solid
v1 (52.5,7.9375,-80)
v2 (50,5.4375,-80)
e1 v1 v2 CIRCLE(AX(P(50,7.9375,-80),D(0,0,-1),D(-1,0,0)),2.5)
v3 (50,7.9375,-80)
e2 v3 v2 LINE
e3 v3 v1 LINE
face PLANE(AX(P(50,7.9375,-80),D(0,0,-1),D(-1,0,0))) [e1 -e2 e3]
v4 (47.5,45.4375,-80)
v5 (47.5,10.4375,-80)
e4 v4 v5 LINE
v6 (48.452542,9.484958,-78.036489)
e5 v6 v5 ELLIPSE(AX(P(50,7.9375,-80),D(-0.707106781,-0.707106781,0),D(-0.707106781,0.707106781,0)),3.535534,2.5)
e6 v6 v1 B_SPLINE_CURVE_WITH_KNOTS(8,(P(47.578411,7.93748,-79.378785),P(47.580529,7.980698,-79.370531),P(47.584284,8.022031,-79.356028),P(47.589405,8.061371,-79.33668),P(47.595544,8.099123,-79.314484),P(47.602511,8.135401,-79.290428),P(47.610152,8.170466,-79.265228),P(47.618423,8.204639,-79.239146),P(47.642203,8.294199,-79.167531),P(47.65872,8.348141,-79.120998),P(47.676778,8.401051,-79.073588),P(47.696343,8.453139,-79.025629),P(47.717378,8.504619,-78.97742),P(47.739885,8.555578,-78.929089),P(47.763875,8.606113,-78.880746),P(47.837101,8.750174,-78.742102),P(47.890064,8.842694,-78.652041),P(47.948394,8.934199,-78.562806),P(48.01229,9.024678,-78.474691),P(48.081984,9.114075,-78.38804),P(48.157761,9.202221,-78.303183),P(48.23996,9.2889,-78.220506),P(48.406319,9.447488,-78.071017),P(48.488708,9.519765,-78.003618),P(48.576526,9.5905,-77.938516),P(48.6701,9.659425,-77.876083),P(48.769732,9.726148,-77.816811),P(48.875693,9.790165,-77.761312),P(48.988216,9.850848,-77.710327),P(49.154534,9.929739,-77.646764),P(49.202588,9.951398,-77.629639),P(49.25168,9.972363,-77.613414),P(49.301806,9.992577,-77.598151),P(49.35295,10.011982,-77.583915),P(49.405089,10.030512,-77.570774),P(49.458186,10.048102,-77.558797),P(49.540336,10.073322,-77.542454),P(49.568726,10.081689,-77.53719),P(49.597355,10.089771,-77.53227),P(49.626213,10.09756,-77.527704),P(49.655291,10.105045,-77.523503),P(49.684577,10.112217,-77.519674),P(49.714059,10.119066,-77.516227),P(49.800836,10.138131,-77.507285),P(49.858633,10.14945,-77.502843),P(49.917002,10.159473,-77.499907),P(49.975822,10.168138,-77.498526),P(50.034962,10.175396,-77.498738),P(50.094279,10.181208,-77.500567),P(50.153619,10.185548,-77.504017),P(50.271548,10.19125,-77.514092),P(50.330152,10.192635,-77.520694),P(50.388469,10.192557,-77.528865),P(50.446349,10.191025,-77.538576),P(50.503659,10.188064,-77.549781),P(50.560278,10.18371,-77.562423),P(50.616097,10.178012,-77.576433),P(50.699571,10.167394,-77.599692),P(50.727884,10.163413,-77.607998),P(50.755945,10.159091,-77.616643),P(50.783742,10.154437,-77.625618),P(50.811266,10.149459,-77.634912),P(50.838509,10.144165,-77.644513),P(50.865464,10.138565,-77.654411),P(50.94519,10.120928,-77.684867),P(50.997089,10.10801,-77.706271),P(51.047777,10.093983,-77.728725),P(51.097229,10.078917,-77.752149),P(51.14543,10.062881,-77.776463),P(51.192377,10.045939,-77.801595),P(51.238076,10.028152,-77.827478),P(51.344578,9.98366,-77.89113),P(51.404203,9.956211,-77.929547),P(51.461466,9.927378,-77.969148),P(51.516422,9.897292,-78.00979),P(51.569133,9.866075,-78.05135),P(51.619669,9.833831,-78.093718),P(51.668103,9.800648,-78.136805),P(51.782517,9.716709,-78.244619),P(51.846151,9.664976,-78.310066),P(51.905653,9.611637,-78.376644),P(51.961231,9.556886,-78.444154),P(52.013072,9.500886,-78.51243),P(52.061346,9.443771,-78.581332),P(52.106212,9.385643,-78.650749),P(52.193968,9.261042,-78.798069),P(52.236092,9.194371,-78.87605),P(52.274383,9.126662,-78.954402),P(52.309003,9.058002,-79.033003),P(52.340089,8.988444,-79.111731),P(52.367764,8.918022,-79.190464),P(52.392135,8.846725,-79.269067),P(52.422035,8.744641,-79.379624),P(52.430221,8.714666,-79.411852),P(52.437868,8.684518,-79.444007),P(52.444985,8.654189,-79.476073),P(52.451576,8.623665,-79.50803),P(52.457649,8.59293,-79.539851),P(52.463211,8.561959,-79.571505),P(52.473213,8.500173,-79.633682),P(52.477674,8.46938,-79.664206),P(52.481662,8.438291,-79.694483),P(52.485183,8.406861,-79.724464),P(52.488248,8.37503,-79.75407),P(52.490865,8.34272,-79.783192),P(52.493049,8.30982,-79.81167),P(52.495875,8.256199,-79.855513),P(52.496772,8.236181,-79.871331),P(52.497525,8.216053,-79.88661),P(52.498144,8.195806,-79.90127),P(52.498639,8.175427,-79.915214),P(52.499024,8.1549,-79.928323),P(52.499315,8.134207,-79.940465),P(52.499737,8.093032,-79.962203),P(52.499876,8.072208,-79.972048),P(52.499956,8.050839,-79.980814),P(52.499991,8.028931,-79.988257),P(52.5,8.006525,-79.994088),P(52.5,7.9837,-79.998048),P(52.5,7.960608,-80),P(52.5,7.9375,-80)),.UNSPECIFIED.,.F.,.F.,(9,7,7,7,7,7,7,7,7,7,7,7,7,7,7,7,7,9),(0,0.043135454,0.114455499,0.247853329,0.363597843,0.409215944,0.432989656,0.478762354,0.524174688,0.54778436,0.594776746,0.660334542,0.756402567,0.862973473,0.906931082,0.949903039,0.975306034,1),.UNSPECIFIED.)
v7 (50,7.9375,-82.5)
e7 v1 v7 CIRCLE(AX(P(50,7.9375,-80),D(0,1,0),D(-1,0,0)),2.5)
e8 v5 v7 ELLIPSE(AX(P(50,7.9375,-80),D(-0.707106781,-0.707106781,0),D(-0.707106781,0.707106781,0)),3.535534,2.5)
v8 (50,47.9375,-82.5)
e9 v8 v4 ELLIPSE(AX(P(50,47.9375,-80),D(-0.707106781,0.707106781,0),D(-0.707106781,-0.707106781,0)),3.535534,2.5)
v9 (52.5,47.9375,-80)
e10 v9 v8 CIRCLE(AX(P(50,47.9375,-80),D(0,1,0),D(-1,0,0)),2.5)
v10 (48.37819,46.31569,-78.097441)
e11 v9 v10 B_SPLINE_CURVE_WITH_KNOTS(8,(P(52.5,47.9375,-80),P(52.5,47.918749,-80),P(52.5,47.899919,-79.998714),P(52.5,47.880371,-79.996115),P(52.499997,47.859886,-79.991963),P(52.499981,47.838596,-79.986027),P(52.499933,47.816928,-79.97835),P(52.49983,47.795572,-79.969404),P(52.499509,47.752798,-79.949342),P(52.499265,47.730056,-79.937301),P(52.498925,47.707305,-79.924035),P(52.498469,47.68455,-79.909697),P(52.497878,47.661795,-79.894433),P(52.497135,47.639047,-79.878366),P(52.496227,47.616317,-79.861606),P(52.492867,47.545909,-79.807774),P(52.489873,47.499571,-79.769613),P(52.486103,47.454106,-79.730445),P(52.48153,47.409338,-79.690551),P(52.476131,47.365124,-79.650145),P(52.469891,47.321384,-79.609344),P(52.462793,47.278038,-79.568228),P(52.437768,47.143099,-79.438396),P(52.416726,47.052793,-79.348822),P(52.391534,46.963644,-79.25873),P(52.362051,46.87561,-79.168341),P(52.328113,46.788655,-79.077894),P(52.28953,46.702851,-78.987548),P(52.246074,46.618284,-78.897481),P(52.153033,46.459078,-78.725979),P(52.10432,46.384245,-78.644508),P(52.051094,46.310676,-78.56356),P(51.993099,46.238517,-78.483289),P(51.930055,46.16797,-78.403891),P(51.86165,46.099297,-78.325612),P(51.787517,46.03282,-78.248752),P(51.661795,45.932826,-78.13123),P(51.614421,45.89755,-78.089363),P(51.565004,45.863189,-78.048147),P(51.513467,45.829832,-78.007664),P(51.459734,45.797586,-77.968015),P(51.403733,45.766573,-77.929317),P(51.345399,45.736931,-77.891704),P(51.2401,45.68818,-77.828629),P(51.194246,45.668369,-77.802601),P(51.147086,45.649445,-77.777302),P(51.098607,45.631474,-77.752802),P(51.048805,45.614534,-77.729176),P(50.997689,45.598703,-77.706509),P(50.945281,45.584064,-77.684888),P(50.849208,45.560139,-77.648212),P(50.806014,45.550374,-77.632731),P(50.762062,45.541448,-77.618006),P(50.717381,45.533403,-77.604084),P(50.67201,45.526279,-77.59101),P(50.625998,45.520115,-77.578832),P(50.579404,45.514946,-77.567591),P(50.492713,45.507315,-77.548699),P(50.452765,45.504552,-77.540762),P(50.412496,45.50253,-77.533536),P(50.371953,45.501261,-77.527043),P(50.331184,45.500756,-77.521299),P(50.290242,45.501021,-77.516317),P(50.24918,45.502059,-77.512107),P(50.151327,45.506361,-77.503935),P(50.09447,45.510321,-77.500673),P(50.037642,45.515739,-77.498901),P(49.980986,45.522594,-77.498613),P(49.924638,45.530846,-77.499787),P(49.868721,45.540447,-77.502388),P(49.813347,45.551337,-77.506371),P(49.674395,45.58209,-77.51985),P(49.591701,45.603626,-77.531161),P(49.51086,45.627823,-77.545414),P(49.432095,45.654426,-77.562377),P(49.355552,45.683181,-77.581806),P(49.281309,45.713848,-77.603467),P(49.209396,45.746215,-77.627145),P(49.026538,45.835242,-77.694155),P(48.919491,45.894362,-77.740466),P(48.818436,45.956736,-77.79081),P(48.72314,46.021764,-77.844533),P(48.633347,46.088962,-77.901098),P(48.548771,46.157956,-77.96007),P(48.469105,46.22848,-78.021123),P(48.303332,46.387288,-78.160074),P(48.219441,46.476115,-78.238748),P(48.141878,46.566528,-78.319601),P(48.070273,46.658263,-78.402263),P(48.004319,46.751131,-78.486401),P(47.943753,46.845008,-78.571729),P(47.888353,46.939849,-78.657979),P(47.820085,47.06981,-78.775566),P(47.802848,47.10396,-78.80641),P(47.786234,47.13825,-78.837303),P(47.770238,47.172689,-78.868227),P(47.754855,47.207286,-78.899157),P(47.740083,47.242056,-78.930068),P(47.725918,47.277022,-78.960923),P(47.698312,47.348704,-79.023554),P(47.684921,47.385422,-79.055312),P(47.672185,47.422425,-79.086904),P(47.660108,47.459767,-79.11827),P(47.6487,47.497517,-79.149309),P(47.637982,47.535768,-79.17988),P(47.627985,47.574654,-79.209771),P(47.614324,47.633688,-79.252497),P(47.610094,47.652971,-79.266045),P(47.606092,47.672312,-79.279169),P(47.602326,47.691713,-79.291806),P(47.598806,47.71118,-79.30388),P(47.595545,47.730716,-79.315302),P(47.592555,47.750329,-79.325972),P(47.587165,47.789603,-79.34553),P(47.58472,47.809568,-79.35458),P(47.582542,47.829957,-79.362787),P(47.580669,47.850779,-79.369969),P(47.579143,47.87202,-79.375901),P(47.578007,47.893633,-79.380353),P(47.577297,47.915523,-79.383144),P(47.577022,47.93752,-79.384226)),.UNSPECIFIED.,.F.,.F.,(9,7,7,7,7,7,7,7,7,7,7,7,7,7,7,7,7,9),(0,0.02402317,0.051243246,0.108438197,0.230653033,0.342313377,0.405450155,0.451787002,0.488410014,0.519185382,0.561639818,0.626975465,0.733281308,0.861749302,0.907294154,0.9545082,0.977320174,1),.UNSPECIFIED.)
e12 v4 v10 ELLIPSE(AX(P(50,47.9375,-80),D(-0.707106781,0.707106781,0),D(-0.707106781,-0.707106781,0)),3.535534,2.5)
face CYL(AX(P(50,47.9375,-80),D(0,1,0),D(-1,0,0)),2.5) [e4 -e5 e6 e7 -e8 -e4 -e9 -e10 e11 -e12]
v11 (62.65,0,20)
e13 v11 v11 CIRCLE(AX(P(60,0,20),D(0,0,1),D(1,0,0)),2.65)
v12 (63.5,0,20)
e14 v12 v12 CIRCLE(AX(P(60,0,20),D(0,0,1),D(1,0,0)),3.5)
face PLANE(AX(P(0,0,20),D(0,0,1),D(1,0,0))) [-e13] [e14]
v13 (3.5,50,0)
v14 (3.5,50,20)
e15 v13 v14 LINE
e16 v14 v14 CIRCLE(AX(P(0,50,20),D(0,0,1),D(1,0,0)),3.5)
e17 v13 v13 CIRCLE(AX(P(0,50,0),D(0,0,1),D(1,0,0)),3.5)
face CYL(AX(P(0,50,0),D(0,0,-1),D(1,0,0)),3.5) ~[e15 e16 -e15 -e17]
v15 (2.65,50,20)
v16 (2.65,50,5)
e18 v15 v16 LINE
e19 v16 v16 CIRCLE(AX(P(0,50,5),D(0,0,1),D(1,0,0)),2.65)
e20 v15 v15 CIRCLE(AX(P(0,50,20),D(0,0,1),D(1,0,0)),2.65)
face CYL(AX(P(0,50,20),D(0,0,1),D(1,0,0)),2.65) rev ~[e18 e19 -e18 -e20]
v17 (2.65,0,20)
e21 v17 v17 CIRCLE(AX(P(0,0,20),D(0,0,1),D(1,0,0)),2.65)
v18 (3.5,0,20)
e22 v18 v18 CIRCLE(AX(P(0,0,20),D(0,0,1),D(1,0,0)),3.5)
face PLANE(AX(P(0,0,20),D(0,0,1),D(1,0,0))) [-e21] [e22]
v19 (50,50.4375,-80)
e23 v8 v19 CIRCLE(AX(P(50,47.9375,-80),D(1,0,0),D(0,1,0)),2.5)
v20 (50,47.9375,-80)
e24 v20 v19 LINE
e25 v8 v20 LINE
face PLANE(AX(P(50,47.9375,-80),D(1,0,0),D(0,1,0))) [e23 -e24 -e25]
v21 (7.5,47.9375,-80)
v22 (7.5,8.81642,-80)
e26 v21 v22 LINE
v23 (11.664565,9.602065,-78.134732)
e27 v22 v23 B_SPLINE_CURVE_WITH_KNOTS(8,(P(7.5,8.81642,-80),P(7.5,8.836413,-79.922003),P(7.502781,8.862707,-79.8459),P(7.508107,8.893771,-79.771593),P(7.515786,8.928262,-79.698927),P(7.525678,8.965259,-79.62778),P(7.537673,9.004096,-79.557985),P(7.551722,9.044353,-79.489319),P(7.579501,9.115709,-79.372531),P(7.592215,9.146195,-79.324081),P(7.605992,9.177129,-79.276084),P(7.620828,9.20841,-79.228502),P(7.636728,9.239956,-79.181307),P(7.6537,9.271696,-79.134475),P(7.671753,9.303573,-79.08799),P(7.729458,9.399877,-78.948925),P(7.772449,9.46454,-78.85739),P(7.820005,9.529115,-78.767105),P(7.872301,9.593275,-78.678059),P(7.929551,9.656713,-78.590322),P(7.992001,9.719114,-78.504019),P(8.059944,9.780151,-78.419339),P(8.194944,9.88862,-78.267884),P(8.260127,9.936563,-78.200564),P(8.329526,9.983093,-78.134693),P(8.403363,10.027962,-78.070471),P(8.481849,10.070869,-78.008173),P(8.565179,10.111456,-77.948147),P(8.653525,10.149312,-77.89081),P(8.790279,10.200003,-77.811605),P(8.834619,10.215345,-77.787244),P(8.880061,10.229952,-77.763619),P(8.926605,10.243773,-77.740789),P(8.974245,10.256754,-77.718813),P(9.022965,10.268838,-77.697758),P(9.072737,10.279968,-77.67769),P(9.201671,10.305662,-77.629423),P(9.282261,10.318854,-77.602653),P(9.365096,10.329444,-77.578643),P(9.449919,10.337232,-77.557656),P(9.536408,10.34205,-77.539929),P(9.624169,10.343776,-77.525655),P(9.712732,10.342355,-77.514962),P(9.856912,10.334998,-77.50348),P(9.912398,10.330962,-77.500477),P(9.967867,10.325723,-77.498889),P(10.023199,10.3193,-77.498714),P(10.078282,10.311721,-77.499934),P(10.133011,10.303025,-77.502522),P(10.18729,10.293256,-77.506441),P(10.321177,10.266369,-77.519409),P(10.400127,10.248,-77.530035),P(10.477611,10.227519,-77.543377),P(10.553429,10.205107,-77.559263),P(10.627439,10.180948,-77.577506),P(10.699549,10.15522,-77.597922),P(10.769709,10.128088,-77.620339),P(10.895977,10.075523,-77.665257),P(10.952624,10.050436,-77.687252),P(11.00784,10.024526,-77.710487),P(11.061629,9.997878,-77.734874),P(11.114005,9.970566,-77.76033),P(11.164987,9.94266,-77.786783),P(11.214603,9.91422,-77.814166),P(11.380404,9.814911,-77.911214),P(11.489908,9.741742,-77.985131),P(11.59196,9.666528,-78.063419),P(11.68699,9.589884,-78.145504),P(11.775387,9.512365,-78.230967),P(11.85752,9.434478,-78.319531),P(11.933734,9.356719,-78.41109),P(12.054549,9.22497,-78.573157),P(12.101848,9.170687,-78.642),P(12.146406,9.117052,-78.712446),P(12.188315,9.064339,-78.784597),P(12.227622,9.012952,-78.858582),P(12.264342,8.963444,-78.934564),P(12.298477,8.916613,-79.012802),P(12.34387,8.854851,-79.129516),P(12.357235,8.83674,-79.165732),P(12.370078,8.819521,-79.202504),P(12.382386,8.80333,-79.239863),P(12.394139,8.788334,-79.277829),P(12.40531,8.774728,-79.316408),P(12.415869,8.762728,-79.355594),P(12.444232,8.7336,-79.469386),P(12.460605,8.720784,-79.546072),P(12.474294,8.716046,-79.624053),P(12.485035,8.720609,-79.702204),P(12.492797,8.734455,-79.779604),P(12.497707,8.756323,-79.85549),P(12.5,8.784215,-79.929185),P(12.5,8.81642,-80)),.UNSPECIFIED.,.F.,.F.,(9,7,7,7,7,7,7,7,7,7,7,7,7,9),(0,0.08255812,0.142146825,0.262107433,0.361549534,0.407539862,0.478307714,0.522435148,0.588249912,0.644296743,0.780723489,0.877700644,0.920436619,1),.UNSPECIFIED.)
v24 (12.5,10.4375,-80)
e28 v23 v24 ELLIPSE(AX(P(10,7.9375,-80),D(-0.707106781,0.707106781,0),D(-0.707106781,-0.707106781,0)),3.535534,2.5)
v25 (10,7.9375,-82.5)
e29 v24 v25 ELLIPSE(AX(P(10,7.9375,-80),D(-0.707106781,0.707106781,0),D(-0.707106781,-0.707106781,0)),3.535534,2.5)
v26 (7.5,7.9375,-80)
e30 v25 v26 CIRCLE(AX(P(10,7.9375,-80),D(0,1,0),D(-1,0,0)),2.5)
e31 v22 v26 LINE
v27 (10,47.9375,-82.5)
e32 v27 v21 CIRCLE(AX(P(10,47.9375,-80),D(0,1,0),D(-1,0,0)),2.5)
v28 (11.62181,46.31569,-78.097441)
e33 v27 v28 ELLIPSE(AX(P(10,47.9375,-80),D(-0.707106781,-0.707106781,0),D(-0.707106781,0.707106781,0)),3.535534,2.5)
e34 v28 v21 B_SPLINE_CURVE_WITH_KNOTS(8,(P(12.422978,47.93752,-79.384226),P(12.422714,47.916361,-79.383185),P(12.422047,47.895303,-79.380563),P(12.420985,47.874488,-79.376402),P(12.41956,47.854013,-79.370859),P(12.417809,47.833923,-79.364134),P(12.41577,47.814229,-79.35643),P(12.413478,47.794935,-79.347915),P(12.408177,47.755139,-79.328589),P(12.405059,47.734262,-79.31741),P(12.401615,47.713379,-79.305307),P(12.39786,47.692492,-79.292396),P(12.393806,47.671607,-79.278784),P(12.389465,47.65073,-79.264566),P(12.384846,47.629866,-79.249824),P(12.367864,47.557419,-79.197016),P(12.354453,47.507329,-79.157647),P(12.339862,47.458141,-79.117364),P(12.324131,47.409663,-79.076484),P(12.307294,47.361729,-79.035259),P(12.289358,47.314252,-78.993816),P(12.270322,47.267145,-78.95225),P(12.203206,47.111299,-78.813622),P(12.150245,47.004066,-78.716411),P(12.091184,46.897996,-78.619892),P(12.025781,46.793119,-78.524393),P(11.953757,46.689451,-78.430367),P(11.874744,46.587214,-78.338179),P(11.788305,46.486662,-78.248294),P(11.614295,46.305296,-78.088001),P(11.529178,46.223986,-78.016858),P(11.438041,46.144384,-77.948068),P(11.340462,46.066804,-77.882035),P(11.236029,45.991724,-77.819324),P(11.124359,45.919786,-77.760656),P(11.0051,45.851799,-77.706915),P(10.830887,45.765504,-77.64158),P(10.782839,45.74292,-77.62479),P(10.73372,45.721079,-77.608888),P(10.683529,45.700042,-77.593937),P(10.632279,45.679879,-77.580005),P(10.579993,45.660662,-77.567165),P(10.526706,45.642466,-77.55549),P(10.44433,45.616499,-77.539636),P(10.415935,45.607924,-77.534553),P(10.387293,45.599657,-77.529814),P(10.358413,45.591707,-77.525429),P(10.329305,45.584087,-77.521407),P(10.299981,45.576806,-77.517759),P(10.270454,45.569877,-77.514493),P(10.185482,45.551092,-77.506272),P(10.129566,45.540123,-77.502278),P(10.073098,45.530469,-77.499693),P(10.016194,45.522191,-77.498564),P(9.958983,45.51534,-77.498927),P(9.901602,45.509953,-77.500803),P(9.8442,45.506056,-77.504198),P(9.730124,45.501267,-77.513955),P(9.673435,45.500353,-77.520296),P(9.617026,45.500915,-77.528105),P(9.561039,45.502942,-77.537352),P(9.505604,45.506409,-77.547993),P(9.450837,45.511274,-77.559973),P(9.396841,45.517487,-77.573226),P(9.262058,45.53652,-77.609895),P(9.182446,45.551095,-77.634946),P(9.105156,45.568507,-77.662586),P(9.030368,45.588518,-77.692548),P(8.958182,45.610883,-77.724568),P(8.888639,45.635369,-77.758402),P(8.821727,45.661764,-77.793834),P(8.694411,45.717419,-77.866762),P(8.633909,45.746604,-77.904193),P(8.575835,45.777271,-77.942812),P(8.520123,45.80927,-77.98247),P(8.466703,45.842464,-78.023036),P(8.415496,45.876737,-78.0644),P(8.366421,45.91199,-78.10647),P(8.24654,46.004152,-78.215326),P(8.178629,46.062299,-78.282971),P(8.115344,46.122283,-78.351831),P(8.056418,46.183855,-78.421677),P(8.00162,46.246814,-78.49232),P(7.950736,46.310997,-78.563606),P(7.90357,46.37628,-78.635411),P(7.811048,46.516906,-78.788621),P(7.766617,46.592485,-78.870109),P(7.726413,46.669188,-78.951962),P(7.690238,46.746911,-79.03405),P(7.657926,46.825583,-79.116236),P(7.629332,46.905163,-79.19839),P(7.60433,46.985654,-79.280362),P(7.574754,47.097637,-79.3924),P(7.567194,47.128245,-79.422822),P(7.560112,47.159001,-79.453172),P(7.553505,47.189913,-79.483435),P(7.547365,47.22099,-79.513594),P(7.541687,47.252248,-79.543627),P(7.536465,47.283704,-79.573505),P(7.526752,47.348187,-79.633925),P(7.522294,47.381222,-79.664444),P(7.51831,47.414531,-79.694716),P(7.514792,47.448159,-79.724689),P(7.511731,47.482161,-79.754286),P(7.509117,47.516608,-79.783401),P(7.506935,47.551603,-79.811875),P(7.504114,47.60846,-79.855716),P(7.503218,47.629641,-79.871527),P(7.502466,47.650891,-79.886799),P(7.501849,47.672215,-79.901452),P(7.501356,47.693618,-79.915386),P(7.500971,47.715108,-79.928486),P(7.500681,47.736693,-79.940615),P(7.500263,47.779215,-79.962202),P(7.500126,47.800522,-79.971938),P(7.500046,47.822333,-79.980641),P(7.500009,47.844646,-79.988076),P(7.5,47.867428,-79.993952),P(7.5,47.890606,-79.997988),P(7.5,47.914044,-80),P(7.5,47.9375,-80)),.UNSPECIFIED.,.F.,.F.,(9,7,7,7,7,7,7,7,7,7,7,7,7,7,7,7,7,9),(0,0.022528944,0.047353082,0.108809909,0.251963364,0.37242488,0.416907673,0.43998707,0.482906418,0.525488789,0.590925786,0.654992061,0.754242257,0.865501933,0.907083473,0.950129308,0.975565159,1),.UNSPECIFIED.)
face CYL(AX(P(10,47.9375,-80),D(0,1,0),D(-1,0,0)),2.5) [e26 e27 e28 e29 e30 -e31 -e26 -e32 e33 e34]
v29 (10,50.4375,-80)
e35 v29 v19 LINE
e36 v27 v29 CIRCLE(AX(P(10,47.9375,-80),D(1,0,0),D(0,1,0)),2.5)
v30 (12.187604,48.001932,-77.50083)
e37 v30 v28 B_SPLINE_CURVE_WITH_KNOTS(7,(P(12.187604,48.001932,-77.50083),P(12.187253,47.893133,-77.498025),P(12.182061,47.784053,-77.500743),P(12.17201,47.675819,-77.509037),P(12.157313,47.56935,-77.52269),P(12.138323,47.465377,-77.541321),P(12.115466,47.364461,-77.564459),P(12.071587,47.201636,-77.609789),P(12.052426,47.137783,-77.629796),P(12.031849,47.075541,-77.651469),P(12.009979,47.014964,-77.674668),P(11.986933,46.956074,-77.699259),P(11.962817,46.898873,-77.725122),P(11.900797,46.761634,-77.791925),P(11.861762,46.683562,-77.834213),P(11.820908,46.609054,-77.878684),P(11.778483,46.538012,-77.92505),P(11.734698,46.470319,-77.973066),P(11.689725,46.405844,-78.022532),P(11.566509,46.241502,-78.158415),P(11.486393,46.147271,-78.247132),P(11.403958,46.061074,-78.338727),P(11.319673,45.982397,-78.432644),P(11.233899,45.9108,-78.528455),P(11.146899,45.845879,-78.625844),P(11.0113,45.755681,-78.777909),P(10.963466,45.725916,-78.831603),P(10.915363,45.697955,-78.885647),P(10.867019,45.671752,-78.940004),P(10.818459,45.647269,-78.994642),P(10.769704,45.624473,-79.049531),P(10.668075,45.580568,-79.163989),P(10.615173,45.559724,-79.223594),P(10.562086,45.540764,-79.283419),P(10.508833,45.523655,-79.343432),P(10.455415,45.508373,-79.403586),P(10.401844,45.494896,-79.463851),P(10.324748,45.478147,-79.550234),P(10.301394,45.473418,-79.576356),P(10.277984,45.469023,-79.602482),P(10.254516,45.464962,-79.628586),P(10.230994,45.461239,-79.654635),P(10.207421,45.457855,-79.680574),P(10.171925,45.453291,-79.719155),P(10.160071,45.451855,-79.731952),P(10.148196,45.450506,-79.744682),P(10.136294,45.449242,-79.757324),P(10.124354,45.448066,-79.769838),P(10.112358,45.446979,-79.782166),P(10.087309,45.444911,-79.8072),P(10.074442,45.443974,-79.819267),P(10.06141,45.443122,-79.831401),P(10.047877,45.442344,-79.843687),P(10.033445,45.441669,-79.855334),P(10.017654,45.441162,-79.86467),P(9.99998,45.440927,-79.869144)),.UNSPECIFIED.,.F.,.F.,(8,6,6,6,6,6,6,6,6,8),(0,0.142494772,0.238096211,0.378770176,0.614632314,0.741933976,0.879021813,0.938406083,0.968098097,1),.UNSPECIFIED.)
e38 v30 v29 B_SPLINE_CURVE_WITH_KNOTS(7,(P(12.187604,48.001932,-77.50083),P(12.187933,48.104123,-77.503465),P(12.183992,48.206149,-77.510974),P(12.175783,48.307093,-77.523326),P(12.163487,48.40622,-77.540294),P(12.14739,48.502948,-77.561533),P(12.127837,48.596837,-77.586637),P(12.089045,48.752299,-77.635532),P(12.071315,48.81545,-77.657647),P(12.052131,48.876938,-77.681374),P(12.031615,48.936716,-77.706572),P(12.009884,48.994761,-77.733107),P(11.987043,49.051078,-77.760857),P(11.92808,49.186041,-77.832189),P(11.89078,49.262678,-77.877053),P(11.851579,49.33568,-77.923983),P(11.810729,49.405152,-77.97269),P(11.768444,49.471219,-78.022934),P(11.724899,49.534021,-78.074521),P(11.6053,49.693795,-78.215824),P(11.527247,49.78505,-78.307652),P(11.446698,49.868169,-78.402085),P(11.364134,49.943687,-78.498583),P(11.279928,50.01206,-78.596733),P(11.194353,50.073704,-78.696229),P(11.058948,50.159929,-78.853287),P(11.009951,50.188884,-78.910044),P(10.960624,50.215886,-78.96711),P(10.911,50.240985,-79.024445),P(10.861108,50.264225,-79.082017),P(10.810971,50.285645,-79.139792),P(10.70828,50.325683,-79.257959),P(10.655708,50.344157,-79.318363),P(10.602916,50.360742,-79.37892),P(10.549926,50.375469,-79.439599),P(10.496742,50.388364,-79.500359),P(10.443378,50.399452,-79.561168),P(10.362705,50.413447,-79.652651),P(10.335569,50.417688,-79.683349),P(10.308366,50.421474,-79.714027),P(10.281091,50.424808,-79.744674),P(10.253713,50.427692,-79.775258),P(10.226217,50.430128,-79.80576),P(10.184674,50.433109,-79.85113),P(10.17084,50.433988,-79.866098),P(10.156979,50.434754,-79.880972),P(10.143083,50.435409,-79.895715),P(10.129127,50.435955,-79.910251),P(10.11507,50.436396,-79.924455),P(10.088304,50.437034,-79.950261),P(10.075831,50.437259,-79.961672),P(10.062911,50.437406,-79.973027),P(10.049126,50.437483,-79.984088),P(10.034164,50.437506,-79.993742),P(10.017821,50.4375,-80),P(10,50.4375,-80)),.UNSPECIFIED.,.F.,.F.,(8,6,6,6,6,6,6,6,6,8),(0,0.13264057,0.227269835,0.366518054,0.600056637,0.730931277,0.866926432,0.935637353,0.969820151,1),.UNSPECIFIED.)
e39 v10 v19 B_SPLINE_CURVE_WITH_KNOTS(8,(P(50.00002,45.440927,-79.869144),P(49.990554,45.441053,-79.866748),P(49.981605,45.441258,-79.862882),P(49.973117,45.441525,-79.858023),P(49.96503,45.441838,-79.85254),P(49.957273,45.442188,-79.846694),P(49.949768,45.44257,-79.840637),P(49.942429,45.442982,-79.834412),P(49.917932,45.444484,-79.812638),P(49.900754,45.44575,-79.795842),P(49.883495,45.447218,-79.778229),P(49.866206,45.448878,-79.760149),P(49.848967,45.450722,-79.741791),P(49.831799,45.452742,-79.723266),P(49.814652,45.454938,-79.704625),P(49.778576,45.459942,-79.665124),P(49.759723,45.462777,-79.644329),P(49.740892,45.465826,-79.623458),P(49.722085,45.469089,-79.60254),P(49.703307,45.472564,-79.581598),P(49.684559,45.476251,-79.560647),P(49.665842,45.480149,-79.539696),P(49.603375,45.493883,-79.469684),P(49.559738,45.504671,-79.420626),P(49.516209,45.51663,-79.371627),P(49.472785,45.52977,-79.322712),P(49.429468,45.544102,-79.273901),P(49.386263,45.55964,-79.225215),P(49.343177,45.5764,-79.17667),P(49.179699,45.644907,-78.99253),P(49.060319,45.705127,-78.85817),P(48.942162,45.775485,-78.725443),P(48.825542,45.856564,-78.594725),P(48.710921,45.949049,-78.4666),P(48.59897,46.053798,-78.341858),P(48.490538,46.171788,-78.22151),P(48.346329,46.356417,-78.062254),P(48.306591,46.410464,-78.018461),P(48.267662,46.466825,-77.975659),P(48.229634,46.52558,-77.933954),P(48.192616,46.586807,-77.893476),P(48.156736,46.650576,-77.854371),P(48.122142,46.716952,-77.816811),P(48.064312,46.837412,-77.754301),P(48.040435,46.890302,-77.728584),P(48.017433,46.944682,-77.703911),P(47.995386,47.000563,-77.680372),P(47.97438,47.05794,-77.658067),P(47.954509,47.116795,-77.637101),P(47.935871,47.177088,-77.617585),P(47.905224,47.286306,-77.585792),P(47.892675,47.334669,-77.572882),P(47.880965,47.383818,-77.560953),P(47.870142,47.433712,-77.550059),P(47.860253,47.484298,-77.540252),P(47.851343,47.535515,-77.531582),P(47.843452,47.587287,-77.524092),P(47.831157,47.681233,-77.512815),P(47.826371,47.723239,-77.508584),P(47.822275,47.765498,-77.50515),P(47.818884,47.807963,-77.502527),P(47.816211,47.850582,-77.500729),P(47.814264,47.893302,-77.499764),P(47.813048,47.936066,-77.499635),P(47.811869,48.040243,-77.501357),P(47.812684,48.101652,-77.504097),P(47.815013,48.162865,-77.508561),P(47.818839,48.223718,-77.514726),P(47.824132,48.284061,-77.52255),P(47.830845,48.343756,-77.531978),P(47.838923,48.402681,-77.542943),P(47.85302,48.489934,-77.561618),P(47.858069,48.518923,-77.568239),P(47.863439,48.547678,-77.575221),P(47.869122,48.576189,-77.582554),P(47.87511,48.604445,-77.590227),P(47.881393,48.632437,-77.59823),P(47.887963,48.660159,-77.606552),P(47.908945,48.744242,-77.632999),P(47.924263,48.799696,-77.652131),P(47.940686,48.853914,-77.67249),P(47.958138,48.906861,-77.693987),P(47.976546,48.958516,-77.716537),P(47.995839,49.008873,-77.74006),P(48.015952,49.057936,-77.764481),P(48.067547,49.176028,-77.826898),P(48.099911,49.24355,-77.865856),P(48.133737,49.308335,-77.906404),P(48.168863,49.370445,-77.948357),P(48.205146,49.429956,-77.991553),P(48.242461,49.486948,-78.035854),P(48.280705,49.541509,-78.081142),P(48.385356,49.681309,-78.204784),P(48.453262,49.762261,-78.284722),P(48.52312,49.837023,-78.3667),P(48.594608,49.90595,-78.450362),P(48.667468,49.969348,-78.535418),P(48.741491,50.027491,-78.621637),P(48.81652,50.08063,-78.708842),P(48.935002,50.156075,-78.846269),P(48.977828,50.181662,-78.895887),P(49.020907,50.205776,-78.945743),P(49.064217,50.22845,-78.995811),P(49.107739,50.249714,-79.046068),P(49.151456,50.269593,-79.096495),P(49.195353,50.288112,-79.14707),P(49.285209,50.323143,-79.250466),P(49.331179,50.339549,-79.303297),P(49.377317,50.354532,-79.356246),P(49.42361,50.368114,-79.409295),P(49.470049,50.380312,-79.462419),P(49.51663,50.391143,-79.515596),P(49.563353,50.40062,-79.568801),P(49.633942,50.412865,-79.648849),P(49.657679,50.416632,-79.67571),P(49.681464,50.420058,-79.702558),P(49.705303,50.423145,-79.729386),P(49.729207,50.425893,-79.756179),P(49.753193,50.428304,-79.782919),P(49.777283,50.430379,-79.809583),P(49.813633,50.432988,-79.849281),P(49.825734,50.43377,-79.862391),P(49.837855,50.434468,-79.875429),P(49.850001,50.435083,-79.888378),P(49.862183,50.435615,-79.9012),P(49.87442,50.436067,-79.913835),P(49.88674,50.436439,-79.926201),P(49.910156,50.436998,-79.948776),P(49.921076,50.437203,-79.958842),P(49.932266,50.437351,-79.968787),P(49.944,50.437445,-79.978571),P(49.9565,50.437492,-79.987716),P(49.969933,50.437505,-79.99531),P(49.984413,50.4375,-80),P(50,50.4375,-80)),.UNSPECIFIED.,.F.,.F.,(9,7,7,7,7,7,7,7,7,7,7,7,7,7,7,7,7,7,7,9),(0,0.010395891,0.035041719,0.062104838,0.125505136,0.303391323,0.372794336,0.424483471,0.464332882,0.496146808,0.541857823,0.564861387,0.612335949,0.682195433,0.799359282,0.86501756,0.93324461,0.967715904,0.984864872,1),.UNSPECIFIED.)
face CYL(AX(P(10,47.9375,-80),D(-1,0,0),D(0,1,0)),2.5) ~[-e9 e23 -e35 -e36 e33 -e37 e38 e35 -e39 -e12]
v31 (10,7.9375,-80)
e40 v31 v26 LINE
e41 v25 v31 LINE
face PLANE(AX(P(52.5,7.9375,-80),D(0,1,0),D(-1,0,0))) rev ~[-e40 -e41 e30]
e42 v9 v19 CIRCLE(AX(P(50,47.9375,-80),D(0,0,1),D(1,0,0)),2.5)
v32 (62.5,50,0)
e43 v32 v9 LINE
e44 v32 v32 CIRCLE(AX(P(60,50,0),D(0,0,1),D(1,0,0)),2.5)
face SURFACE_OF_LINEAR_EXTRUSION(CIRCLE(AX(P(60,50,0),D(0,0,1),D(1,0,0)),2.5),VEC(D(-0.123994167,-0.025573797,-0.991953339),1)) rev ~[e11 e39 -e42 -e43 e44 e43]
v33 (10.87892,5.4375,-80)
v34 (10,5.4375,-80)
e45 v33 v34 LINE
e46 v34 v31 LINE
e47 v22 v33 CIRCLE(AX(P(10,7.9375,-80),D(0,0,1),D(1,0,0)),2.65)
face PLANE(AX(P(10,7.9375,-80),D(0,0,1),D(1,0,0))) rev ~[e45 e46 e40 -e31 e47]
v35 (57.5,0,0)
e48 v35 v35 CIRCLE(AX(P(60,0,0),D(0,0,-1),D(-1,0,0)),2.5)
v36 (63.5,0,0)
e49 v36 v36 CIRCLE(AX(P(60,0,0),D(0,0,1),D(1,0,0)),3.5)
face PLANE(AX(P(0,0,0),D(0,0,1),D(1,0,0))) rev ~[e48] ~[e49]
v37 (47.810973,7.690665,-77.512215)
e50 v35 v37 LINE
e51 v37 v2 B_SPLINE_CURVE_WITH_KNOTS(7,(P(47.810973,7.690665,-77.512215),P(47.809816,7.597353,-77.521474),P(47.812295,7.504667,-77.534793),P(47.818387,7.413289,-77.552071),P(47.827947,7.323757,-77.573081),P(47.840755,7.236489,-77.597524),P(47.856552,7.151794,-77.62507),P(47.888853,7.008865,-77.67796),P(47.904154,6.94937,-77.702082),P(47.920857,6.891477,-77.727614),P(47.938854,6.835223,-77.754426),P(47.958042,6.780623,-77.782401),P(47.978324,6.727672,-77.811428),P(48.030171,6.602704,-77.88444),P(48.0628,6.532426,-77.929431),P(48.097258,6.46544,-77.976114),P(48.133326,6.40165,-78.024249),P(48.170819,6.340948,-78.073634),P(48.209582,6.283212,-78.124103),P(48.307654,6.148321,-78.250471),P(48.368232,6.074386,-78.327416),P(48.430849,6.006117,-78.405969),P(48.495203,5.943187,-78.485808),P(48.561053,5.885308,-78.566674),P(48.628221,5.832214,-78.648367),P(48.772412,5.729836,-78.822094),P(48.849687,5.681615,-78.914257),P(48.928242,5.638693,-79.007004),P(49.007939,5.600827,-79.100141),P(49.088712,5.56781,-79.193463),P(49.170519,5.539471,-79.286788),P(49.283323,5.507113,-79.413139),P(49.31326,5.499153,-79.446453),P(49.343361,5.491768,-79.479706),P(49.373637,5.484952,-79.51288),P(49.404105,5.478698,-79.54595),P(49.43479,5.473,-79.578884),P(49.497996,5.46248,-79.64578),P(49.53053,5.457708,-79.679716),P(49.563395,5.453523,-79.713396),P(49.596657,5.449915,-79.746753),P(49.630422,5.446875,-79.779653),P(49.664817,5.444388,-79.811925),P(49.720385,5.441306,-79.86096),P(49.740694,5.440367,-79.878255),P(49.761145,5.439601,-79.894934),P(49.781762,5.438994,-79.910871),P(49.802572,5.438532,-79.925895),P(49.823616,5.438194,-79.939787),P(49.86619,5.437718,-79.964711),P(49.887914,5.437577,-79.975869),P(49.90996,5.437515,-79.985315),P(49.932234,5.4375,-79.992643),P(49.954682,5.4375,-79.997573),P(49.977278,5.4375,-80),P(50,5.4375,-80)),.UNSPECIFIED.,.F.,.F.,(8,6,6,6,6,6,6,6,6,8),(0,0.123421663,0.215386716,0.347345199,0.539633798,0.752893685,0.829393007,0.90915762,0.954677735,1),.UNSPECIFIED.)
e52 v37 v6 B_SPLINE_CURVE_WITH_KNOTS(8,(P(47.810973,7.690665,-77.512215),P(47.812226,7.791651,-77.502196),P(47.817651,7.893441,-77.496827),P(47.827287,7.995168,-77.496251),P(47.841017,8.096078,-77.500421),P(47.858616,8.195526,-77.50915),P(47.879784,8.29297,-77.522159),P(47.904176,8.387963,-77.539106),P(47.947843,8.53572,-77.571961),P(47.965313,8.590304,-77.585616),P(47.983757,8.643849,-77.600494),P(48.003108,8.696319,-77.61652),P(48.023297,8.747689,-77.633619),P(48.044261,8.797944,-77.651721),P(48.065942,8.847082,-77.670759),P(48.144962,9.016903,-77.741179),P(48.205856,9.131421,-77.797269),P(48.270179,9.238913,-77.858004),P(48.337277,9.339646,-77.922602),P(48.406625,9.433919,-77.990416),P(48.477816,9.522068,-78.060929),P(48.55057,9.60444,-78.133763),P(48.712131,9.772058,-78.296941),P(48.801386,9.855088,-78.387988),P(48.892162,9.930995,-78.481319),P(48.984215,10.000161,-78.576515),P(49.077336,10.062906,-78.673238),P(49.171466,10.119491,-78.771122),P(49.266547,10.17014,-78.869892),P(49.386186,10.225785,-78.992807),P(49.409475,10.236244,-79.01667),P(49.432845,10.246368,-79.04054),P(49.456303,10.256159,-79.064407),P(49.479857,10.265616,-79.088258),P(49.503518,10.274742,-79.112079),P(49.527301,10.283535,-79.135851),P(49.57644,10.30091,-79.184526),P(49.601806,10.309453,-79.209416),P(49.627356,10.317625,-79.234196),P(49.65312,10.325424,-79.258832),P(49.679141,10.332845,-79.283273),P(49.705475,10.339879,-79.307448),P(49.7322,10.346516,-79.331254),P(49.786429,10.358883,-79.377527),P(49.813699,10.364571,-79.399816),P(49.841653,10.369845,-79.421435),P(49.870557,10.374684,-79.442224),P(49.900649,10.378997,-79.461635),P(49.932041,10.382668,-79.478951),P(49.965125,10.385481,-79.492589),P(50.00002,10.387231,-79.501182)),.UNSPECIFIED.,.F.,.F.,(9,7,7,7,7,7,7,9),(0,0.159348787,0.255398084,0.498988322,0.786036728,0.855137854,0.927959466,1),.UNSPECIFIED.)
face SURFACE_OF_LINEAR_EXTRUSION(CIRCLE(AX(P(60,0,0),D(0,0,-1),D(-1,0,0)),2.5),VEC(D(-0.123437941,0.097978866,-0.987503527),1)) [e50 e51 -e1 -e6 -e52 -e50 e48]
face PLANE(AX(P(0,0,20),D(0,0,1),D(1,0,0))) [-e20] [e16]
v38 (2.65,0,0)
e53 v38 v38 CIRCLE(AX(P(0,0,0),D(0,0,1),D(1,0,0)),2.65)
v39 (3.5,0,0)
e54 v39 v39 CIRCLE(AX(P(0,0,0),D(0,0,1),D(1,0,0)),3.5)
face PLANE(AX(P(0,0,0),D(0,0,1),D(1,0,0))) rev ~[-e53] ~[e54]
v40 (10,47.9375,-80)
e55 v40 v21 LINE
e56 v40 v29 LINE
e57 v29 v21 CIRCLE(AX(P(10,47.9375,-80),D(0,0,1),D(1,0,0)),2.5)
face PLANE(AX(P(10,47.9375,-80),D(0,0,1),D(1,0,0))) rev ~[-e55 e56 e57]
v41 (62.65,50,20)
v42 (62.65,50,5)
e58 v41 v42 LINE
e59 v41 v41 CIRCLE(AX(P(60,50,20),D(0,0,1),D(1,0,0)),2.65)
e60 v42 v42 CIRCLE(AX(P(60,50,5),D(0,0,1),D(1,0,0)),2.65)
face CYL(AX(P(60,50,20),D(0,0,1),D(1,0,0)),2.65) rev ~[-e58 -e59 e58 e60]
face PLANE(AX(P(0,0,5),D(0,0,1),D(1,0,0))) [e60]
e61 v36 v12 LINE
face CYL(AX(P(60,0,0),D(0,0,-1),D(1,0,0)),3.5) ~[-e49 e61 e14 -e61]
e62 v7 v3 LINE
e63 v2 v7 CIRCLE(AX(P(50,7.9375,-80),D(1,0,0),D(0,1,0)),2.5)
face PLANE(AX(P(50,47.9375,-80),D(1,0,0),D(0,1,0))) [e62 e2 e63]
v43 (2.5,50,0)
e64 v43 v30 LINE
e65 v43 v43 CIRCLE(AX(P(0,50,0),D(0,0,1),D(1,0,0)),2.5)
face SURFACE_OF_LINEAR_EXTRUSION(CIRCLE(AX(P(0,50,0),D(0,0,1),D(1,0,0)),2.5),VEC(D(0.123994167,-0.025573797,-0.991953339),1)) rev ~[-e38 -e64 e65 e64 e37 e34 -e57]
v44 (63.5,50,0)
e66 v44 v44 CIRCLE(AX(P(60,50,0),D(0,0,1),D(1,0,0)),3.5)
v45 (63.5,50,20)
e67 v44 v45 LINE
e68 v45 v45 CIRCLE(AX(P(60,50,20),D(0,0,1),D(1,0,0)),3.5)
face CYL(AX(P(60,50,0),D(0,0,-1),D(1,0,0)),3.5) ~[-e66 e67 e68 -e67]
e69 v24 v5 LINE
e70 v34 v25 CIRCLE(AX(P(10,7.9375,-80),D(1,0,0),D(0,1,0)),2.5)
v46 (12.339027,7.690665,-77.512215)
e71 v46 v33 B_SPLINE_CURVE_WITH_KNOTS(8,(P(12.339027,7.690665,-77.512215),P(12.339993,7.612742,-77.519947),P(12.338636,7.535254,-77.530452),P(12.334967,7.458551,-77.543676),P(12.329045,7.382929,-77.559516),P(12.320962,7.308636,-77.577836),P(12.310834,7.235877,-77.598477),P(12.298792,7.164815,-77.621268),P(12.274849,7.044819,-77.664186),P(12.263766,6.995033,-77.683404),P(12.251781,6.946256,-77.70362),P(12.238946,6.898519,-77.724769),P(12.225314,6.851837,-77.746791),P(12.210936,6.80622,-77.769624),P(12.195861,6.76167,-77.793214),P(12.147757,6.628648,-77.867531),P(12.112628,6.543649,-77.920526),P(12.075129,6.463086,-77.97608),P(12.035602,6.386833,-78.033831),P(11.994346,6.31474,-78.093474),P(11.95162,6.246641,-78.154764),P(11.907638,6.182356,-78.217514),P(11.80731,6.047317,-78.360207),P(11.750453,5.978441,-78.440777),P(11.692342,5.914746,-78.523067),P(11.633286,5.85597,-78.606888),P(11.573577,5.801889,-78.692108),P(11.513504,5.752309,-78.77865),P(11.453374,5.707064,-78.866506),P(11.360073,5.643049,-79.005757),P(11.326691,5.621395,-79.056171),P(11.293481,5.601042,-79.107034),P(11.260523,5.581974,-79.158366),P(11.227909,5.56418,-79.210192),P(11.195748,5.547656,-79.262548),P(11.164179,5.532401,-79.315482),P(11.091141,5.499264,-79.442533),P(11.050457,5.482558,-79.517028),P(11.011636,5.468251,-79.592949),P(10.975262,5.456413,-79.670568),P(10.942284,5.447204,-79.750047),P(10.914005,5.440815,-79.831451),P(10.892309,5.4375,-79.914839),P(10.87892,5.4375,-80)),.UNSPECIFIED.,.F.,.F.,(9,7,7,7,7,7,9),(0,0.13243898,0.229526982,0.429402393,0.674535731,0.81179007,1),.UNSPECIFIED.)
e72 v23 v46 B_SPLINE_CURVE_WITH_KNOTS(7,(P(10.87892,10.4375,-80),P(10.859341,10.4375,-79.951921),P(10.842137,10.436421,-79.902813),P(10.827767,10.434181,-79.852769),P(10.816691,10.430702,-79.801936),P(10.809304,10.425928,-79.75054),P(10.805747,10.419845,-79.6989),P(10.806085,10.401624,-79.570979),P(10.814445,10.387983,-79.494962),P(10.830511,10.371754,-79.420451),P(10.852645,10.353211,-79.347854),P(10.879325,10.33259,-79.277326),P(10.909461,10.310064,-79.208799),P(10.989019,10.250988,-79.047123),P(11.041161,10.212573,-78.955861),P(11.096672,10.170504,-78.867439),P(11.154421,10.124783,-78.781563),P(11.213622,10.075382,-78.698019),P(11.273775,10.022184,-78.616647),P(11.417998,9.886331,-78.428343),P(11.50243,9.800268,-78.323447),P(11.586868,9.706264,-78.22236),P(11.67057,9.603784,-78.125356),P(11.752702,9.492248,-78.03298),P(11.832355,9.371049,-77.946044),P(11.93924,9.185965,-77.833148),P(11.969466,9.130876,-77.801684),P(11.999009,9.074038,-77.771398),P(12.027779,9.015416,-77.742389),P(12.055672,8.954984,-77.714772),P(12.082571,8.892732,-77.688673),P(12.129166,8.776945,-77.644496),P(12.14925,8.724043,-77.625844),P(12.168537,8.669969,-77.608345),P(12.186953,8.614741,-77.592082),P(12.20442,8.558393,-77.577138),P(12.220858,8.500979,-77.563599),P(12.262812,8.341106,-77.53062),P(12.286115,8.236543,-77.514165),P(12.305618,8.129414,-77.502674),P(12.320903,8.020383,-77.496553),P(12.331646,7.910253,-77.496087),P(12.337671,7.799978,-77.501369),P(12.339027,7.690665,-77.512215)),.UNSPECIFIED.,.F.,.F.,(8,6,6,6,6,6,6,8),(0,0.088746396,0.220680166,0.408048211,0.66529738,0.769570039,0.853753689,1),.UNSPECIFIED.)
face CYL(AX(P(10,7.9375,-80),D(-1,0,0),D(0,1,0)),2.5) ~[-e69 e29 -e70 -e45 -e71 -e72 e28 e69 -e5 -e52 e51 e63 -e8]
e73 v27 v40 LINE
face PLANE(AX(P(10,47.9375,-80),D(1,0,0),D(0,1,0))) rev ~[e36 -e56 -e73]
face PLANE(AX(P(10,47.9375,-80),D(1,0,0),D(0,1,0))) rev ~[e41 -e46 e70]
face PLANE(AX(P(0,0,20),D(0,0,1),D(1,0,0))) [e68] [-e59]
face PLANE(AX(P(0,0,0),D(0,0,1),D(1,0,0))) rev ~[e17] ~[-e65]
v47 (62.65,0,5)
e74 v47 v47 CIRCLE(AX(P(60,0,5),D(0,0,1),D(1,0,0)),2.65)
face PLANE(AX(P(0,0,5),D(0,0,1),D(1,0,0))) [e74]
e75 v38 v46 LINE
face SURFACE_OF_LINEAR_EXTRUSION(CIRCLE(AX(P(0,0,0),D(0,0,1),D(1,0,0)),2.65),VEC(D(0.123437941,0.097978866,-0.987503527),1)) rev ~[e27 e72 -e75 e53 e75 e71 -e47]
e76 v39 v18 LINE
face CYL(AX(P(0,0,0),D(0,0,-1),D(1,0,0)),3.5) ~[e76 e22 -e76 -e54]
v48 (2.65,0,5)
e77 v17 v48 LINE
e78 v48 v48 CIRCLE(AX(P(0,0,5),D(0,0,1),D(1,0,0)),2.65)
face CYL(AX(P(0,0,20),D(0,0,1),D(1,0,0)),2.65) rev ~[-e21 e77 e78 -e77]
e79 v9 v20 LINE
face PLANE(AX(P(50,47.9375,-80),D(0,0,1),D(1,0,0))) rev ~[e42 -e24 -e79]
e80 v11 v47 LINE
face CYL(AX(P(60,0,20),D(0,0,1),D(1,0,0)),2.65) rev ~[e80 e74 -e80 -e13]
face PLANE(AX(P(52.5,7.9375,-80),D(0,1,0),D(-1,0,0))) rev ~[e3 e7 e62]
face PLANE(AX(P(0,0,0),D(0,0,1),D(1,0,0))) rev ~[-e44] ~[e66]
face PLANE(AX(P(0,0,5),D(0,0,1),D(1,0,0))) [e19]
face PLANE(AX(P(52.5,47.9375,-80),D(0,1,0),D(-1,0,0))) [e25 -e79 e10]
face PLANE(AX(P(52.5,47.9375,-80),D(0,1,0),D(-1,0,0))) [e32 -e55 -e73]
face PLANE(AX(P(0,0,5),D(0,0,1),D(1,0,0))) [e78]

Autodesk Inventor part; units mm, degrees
sketch "Sketch1" plane through (0, 0, 0) normal (0, 0, 1) x (1, 0, 0)
  circle A0 centre (0, 0) radius 3.5
  circle A1 centre (0, 50) radius 3.5
  circle A2 centre (60, 0) radius 3.5
  circle A3 centre (60, 50) radius 3.5
  dimension "d2" = 7
  dimension "d3" = 7
  dimension "d4" = 7
  dimension "d5" = 7
extrude "Extrusion1" add sketch "Sketch1" along normal blind 20
sketch "Sketch2" plane through (0, 0, 20) normal (0, 0, 1) x (1, 0, 0)
  circle A0 centre (0, 0) radius 3.5 projected
  circle A1 centre (0, 0) radius 2.65
  circle A2 centre (0, 50) radius 3.5 projected
  circle A3 centre (0, 50) radius 2.65
  circle A4 centre (60, 50) radius 3.5 projected
  circle A5 centre (60, 50) radius 2.65
  circle A6 centre (60, 0) radius 3.5 projected
  circle A7 centre (60, 0) radius 2.65
  dimension "d8" = 5.3
  dimension "d9" = 5.3
  dimension "d10" = 5.3
  dimension "d11" = 5.3
extrude "Extrusion2" cut sketch "Sketch2" against normal blind 15 contours A1 | A3 | A5 | A7
sketch "Sketch4" plane through (0, 0, 0) normal (1, 0, 0) x (0, 1, 0)
  point P0 (0, 0)
ref_plane "Work Plane1" through (0, 0, -80) normal (0, 0, -1) x (-1, 0, 0)
sketch "Sketch5" plane through (0, 0, -80) normal (0, 0, -1) x (-1, 0, 0)
  circle A0 centre (-10, 47.9375) radius 2.5
  circle A1 centre (-50, 47.9375) radius 2.5
  circle A2 centre (-50, 7.9375) radius 2.5
  circle A3 centre (-10, 7.9375) radius 2.5
  point P0 (0, 0)
  dimension "d20" = 5
  dimension "d21" = 5
  dimension "d22" = 5
  dimension "d23" = 5
sketch "Sketch6" plane through (0, 0, 0) normal (0, 0, 1) x (1, 0, 0)
  circle A0 centre (0, 0) radius 2.65 projected
  circle A1 centre (0, 0) radius 2.5
  circle A2 centre (0, 50) radius 2.65 projected
  circle A3 centre (0, 50) radius 2.5
  circle A4 centre (60.325, 50) radius 2.5
  circle A5 centre (60, 0) radius 2.65 projected
  circle A6 centre (60, 0) radius 2.5
  dimension "d24" = 5
  dimension "d25" = 5
  dimension "d26" = 5
  dimension "d27" = 5
sketch3d "3D Sketch1"
  line L0 (0, 0, 0) -> (10, 7.9375, -80)
sweep "Sweep1" add profiles "Sketch6" path "3D Sketch1" contours A0 | A1
sketch "Sketch7" plane through (0, 0, 0) normal (0, 0, 1) x (1, 0, 0)
  circle A0 centre (0, 50) radius 2.65 projected
  circle A1 centre (0, 50) radius 2.5
  point P0 (0, 0)
  dimension "d30" = 5
sketch3d "3D Sketch2"
  line L0 (0, 50, 0) -> (10, 47.9375, -80)
sweep "Sweep2" add profiles "Sketch7" path "3D Sketch2" contours A1
sketch "Sketch8" plane through (0, 0, 0) normal (0, 0, 1) x (1, 0, 0)
  circle A0 centre (60, 50) radius 3.5 projected
  circle A1 centre (60, 50) radius 2.5
  point P0 (0, 0)
  dimension "d33" = 5
sketch "Sketch9" plane through (60, 0, 0) normal (0, 0, -1) x (-1, 0, 0)
  circle A0 centre (0, 0) radius 3.5 projected
  circle A1 centre (0, 0) radius 2.5
  point P0 (60, 0)
  dimension "d34" = 5
sketch3d "3D Sketch3"
  line L0 (60, 50, 0) -> (50, 47.9375, -80)
sweep "Sweep3" add profiles "Sketch8" path "3D Sketch3" contours A1
sketch3d "3D Sketch4"
  line L0 (60, 0, 0) -> (50, 7.9375, -80)
sweep "Sweep4" add profiles "Sketch9" path "3D Sketch4" contours A1
ref_plane "Work Plane3" through (10, 47.9375, -80) normal (1, 0, 0) x (0, 1, 0)
sketch "Sketch10" plane through (10, 47.9375, -80) normal (1, 0, 0) x (0, 1, 0)
  circle A0 centre (0, 0) radius 2.5
  circle A1 centre (-40, 0) radius 2.5
  point P0 (-47.9375, 80)
  dimension "d39" = 5
  dimension "d40" = 5
extrude "Extrusion3" add sketch "Sketch10" along normal blind 40
ref_plane "Work Plane5" through (52.5, 47.9375, -80) normal (0, 1, 0) x (-1, 0, 0)
sketch "Sketch12" plane through (52.5, 47.9375, -80) normal (0, 1, 0) x (-1, 0, 0)
  line L0 (2.5, 0.1309) -> (2.5, 0) projected
  circle A0 centre (2.5, 0) radius 2.5
  line L1 (42.5, 0) -> (45, 0) projected
  circle A1 centre (42.5, 0) radius 2.5
  point P0 (52.5, 80)
  dimension "d46" = 5
  dimension "d47" = 5
extrude "Extrusion4" add sketch "Sketch12" against normal blind 40
equation "\"ConnectTol\" = 0.3"
properties part number "RCPlaneSkeletonFront1" material "PC/ABS Plastic"
